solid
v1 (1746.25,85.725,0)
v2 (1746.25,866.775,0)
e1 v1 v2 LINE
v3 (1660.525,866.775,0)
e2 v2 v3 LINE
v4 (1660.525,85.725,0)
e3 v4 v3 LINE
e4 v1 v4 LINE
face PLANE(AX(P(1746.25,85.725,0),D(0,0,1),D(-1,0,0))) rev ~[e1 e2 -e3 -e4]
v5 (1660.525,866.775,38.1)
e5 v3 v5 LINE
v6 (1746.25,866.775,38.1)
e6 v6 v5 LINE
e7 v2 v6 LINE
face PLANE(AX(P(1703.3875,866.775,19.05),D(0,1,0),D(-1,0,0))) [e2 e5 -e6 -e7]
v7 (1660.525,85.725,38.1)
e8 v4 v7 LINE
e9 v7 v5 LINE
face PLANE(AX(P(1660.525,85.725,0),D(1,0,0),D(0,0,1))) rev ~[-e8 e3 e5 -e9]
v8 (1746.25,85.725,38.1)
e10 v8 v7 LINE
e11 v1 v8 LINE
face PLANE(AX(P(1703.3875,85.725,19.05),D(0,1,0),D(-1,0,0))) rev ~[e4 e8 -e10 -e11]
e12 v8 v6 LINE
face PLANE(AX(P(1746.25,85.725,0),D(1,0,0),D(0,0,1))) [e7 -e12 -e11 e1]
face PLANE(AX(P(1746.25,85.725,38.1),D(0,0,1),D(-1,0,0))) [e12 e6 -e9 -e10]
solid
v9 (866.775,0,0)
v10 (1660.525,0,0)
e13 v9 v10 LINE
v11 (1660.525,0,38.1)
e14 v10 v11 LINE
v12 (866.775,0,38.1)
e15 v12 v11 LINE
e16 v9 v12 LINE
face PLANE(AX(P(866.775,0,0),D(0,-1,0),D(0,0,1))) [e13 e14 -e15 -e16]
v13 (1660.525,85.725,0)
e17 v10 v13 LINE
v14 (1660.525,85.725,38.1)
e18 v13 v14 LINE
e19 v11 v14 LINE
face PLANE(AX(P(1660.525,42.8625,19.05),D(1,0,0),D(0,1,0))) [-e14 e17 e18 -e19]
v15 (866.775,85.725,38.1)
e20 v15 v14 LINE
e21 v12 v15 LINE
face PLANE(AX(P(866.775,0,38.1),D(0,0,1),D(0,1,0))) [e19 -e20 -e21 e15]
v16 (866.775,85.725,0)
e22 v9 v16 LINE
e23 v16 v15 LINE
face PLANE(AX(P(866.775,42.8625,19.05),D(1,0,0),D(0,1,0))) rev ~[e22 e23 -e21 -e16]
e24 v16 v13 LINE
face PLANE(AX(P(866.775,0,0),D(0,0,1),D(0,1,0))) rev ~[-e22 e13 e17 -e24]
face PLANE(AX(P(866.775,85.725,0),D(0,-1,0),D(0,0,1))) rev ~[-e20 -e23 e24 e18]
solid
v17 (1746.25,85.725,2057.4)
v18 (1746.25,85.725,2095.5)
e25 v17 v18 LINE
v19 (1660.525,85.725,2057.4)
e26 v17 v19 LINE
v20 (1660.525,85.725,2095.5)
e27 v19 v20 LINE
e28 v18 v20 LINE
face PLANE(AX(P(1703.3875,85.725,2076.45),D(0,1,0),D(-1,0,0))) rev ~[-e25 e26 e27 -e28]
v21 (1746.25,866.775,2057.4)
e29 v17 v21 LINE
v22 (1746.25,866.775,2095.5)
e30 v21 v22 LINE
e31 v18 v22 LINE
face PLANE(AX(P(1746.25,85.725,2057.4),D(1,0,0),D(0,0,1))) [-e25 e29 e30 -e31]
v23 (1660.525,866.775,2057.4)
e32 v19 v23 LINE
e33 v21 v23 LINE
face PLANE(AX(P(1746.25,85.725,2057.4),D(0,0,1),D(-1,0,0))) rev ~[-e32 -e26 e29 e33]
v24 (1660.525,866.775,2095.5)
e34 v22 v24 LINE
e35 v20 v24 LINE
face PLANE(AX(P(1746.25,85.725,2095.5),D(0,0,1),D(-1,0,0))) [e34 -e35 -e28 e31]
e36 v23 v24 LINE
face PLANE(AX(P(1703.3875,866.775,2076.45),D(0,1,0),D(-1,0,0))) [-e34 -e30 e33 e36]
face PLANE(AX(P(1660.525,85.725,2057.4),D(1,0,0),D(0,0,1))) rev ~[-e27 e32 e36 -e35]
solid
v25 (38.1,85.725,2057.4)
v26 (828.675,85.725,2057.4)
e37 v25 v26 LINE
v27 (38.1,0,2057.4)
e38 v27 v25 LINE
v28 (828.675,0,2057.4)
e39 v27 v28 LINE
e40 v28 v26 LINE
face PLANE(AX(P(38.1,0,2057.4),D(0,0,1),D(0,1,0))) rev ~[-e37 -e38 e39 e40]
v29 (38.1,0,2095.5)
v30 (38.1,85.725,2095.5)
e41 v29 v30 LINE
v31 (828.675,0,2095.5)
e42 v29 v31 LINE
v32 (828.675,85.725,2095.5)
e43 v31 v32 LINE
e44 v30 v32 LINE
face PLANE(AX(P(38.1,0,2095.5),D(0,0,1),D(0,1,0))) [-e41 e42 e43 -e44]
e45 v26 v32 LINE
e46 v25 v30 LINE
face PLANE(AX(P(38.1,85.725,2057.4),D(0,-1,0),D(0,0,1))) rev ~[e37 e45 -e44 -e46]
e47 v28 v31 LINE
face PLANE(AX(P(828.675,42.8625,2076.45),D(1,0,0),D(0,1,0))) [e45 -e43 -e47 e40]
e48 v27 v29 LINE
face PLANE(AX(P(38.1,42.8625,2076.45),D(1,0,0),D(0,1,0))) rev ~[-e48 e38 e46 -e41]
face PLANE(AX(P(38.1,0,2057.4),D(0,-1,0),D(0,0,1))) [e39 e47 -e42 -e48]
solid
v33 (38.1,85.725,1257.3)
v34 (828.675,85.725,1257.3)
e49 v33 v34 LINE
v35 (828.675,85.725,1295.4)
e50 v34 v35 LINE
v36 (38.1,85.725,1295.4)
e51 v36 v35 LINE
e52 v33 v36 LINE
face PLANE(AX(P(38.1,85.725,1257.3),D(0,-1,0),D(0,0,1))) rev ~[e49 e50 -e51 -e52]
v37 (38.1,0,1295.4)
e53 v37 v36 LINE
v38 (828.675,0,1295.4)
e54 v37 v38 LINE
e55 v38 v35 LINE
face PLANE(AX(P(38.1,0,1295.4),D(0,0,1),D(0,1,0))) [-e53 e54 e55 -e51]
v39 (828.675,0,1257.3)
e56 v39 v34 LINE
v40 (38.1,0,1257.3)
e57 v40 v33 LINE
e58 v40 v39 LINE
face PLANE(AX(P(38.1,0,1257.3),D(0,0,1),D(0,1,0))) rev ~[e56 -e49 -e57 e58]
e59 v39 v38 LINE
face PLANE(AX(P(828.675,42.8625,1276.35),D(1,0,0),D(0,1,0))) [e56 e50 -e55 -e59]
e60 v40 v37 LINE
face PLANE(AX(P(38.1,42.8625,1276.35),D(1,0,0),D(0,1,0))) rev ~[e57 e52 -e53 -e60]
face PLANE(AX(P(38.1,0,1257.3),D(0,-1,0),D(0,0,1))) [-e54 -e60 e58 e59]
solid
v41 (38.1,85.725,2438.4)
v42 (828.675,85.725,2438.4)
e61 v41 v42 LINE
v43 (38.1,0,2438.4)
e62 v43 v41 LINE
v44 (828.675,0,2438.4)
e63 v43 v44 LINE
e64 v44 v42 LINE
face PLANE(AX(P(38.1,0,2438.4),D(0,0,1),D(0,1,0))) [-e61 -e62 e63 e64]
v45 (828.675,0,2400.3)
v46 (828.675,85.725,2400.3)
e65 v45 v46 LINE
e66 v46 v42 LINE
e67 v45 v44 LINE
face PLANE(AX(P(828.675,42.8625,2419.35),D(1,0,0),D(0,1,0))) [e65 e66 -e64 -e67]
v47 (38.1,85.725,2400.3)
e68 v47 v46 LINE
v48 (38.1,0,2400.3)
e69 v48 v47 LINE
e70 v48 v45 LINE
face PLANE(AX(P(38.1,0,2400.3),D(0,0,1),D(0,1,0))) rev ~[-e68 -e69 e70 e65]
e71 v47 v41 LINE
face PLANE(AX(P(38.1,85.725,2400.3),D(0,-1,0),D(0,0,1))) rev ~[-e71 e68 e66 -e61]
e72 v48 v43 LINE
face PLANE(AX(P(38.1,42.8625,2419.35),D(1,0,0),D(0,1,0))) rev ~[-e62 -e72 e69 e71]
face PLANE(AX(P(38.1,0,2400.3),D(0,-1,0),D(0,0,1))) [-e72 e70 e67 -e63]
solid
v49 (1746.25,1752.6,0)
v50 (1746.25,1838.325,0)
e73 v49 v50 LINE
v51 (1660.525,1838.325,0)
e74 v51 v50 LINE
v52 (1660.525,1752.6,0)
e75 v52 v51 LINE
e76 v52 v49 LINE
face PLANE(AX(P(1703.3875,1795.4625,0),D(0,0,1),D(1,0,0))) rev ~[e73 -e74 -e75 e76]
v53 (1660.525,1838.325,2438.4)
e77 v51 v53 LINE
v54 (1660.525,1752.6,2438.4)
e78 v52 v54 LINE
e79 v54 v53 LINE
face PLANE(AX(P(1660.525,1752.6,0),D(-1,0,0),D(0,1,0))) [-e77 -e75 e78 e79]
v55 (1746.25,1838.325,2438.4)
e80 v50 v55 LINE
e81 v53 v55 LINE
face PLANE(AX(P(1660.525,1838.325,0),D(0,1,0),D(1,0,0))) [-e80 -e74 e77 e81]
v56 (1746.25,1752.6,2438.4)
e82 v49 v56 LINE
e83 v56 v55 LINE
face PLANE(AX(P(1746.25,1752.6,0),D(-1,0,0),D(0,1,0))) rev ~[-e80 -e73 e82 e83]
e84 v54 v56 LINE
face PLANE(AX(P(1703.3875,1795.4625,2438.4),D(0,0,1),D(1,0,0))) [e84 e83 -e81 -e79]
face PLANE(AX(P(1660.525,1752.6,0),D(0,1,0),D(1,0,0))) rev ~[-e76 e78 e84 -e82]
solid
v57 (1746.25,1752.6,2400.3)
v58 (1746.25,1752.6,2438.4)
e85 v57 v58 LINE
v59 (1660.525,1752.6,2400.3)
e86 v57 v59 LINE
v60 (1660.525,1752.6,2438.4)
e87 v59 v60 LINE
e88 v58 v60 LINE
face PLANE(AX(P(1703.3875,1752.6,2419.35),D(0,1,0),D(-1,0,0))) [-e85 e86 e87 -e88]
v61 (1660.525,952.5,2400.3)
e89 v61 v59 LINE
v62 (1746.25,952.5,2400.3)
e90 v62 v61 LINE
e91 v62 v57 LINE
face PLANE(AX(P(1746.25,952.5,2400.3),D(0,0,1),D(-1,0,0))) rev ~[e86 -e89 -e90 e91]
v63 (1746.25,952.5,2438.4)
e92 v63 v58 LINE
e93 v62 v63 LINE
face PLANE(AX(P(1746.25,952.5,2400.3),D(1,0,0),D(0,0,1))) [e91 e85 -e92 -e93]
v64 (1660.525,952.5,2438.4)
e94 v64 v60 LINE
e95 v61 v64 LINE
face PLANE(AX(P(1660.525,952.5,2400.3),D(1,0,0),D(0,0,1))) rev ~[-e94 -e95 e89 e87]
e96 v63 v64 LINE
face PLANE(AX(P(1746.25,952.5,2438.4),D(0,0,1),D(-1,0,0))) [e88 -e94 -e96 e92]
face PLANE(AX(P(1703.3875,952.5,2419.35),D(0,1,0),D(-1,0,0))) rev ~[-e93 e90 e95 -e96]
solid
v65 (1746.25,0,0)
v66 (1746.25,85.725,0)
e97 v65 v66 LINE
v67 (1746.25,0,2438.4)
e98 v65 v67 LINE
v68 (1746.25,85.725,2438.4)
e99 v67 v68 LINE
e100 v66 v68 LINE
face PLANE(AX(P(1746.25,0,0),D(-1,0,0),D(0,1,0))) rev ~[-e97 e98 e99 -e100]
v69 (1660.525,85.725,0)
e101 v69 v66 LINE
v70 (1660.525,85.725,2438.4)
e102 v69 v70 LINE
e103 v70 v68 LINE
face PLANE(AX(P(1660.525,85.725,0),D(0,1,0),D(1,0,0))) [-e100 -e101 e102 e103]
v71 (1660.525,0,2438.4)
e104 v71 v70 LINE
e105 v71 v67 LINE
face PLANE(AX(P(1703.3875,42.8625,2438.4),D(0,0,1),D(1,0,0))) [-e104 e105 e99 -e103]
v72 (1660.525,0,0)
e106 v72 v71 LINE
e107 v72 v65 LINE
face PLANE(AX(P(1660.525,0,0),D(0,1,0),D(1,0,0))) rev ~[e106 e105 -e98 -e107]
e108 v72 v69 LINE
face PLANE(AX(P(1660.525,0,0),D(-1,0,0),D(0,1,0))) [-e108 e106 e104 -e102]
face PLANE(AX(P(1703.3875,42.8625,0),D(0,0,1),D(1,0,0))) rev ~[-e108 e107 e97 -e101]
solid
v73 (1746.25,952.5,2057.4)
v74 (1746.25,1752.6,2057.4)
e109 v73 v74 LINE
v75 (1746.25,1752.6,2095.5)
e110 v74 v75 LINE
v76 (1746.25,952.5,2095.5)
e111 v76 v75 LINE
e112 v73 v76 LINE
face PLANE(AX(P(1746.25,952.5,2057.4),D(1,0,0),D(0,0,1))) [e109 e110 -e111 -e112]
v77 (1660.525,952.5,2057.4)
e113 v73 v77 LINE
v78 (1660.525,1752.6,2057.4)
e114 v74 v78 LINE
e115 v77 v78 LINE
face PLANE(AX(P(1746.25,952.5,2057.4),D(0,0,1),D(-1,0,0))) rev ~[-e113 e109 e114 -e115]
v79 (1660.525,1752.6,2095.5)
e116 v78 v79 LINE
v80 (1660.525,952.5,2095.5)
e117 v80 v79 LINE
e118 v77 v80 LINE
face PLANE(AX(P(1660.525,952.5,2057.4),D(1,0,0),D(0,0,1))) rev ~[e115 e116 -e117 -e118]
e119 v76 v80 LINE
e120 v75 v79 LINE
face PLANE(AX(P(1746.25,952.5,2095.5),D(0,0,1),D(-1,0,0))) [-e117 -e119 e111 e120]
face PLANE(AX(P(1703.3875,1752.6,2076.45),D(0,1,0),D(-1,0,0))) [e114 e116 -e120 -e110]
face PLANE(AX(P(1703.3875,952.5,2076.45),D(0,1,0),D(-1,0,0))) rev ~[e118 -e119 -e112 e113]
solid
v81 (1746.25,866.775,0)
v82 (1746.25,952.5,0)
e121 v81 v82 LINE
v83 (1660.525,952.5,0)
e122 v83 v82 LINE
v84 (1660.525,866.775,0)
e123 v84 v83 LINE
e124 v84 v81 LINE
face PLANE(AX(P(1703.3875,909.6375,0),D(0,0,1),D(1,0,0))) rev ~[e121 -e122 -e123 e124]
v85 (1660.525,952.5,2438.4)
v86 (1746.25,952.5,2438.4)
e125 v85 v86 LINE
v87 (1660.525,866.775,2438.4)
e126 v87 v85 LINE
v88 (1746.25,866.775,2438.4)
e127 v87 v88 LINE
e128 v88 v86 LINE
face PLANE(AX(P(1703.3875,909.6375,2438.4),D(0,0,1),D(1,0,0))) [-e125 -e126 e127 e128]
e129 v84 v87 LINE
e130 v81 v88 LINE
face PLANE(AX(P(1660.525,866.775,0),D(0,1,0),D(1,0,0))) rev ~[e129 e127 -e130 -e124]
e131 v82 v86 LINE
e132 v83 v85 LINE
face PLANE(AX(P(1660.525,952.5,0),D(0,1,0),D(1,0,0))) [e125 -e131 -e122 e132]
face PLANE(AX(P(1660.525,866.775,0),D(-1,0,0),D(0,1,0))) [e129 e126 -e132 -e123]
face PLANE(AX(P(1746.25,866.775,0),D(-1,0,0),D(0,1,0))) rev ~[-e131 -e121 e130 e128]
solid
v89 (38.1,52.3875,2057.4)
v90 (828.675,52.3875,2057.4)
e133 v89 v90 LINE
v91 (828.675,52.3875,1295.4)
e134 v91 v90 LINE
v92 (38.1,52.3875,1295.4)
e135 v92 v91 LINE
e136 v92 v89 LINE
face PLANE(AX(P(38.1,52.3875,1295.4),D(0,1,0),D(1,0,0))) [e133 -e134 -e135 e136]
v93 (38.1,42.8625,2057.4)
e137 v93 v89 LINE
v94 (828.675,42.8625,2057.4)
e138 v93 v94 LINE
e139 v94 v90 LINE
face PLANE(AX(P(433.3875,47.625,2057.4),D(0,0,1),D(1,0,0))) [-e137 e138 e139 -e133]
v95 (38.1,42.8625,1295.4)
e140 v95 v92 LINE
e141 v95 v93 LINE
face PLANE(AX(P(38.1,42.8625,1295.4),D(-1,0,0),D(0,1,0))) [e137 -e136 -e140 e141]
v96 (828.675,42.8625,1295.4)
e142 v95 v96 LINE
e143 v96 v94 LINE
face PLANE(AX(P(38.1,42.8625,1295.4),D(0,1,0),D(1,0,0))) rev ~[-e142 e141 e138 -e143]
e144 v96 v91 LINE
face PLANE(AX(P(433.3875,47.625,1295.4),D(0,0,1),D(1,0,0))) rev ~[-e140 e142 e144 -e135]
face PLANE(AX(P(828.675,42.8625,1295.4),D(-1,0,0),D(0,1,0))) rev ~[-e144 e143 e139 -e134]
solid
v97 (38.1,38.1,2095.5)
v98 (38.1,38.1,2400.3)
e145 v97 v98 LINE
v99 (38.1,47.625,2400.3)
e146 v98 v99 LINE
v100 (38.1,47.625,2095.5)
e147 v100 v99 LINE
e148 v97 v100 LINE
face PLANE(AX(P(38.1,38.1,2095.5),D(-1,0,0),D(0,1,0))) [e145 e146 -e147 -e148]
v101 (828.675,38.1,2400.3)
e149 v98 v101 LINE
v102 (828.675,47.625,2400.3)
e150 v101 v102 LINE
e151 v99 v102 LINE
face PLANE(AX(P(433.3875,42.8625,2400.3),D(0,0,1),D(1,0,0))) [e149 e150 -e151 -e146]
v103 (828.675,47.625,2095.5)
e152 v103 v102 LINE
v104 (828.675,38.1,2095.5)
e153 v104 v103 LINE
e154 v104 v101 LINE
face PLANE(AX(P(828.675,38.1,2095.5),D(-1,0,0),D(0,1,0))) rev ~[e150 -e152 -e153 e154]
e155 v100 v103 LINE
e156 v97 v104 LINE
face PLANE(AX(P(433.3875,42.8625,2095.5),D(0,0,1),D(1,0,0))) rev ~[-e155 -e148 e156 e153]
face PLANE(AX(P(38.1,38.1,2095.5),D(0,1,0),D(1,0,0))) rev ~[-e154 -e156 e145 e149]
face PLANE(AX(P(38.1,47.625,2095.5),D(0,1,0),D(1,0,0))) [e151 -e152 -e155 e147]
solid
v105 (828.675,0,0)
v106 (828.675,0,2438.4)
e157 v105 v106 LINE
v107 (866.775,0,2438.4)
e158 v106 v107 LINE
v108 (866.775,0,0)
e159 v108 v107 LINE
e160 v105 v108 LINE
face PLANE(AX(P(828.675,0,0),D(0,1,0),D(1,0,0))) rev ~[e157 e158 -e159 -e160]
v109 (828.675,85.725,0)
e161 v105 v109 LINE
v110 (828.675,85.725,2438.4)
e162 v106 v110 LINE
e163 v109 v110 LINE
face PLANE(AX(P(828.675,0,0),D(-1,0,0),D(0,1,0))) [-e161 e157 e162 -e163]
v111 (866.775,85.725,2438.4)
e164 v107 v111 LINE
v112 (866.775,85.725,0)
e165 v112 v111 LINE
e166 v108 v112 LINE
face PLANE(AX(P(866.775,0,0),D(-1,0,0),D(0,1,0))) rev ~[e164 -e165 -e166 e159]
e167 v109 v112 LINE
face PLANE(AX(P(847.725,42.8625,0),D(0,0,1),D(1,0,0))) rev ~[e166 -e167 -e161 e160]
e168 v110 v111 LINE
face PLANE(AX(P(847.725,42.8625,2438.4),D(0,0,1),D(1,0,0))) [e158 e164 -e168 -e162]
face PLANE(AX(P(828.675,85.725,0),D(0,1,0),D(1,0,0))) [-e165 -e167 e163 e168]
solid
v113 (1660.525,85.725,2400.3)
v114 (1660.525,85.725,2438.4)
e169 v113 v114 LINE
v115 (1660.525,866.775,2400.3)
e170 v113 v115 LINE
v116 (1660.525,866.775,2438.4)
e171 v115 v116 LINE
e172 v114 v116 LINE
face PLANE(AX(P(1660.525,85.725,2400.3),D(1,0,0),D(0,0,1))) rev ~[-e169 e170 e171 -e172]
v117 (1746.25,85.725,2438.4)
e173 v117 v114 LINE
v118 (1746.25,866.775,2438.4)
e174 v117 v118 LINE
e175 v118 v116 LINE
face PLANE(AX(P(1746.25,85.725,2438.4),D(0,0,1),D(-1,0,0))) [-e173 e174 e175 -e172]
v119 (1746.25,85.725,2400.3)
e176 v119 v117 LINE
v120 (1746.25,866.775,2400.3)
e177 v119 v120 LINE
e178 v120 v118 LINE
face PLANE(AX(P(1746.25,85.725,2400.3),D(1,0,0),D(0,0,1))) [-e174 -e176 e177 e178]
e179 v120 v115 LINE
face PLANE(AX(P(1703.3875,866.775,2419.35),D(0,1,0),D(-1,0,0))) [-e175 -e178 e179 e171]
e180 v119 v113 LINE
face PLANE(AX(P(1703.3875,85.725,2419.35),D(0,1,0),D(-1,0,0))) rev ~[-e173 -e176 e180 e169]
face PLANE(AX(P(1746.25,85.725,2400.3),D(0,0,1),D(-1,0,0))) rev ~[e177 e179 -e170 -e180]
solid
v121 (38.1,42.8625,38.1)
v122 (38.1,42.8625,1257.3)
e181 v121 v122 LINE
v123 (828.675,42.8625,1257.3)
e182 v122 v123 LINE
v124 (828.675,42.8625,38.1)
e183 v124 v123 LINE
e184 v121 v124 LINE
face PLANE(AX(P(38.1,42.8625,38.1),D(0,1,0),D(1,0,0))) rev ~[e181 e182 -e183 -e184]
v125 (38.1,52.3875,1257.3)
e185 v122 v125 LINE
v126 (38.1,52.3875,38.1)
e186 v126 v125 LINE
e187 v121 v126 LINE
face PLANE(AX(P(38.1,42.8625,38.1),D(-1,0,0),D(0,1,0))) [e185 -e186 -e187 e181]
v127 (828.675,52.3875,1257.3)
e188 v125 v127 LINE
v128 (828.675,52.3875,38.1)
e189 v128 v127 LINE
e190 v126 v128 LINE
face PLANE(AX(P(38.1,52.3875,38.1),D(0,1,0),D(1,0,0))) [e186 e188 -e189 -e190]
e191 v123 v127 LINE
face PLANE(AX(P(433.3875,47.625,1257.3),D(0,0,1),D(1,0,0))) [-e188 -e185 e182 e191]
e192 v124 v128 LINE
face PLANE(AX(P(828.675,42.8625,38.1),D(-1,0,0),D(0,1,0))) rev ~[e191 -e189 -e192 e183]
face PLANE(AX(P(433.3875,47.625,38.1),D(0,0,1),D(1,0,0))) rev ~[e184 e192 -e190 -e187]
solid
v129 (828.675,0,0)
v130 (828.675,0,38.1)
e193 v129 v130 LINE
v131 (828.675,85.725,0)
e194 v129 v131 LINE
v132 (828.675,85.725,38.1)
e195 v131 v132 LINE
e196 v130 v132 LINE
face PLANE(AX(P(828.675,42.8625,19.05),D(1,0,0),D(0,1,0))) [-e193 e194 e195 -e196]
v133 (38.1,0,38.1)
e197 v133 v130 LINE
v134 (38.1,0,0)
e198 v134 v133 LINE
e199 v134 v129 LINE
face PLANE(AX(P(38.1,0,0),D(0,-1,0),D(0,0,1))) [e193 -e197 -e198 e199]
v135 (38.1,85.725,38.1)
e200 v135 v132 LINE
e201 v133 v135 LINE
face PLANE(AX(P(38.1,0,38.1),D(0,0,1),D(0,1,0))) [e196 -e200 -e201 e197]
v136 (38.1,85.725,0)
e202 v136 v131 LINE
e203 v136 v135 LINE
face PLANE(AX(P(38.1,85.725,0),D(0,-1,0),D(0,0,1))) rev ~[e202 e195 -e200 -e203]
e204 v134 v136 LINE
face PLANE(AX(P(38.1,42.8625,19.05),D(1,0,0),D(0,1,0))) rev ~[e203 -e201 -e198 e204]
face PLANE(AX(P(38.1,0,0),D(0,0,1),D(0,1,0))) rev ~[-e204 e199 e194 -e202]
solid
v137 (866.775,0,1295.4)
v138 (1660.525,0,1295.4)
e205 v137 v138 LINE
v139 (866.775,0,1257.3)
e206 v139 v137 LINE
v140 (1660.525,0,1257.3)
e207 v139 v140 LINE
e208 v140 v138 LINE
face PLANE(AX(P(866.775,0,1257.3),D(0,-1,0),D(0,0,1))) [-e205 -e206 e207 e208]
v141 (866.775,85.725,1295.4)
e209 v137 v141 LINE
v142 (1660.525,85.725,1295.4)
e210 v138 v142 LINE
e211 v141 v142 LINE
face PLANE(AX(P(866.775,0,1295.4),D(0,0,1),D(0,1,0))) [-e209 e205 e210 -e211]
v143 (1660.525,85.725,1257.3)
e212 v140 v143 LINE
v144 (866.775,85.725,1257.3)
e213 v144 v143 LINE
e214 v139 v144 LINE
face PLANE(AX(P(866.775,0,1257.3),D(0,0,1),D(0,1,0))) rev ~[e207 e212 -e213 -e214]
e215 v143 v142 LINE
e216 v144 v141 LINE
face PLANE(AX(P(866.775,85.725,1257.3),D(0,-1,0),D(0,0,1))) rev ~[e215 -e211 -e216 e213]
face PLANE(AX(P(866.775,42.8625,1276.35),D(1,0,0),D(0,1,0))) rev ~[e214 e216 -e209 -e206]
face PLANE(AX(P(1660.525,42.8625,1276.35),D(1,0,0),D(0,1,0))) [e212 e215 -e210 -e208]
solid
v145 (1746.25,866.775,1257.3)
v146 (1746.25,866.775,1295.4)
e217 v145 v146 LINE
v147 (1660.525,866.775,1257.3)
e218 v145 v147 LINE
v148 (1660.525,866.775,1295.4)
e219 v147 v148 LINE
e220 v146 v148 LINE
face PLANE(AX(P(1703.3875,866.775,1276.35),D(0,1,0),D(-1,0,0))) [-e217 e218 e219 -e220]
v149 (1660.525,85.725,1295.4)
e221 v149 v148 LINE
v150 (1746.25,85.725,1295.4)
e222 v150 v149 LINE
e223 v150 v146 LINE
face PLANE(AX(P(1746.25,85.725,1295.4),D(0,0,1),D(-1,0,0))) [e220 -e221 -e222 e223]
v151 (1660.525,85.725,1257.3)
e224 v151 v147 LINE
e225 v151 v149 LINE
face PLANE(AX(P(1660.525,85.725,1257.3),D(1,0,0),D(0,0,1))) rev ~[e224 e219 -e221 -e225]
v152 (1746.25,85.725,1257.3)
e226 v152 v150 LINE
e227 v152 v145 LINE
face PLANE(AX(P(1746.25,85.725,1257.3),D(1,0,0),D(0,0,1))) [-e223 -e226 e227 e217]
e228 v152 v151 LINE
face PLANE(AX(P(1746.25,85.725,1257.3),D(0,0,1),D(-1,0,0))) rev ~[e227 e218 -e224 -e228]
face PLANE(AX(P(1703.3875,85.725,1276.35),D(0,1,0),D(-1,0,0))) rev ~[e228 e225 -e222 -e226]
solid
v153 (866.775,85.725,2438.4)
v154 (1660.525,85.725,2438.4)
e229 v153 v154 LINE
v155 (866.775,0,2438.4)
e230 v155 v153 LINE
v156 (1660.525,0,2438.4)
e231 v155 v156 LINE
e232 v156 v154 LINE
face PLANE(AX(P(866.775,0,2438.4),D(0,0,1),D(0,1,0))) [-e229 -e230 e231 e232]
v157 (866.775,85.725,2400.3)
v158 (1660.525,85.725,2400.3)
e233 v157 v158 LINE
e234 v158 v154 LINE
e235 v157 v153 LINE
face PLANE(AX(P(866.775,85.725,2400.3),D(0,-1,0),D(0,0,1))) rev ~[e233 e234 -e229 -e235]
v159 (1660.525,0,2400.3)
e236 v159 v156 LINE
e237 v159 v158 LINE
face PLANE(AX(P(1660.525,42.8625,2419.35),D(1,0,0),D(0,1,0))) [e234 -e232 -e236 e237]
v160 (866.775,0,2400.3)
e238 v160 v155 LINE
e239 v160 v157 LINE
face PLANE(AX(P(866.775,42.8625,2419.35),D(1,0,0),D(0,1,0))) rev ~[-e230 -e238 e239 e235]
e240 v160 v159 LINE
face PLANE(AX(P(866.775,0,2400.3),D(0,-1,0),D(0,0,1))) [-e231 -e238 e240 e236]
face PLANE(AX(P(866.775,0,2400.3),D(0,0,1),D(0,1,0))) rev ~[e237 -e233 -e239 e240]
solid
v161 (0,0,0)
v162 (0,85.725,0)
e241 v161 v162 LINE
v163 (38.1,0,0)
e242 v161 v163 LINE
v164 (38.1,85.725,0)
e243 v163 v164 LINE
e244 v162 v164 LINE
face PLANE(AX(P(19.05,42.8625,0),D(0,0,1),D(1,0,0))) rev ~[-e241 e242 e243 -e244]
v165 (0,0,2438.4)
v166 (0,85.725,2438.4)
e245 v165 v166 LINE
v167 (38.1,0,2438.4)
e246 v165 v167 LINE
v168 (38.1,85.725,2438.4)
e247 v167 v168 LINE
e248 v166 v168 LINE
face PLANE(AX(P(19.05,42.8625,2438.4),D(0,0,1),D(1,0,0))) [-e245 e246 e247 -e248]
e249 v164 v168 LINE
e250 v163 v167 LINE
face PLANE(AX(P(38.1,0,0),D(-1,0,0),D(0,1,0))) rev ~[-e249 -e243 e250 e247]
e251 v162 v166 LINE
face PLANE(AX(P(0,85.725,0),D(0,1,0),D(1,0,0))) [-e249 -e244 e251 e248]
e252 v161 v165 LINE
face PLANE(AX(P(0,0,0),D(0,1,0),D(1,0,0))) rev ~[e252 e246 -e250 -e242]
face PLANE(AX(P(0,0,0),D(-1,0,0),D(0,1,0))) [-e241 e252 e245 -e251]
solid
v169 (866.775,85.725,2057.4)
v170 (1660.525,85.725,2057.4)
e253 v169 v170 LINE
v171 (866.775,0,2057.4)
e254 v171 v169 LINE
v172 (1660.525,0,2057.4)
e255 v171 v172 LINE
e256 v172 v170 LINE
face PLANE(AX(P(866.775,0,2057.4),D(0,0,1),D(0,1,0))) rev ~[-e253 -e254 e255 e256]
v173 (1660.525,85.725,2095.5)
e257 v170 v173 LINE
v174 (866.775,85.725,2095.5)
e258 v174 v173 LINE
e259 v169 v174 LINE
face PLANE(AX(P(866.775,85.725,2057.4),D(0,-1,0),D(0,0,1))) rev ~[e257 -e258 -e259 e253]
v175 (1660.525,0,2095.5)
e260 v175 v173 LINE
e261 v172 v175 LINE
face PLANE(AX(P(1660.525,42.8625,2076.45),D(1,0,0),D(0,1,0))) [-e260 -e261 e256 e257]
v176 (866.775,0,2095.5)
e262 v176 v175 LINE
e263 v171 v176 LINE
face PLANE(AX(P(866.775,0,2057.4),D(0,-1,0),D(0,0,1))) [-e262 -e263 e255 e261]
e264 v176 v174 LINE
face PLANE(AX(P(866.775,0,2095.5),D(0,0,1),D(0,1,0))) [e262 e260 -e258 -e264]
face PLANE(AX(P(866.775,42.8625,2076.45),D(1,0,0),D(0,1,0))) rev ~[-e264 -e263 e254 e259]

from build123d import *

# Parameters (mm, degrees)
F0_W      = 38.1
F0_H      = 85.725
F1_DEPTH  = 2438.4
F0_W_2    = 85.725
F3_W      = 85.725
F3_H      = 38.1
F4_DEPTH  = 790.575
F2_W      = 85.725
F2_H      = 38.1
F5_DEPTH  = 793.75
F6_W      = 85.725
F6_H      = 38.1
F7_DEPTH  = 781.05
F8_W      = 85.725
F8_H      = 38.1
F9_DEPTH  = 781.05
F10_W     = 85.725
F10_H     = 38.1
F11_DEPTH = 793.75
F12_W     = 85.725
F12_H     = 38.1
F13_DEPTH = 790.575
F14_W     = 85.725
F14_H     = 38.1
F15_DEPTH = 800.1
F16_W     = 85.725
F16_H     = 38.1
F17_DEPTH = 790.575
F18_W     = 85.725
F18_H     = 38.1
F19_DEPTH = 793.75
F20_W     = 85.725
F20_H     = 38.1
F21_DEPTH = 781.05
F22_W     = 85.725
F22_H     = 38.1
F23_DEPTH = 800.1
F24_W     = 85.725
F24_H     = 38.1
F25_DEPTH = 781.05
F26_W     = 85.725
F26_H     = 38.1
F27_DEPTH = 793.75
F28_W     = 85.725
F28_H     = 38.1
F29_DEPTH = 790.575
F30_W     = 790.575
F30_H     = 9.525
F31_DEPTH = 1219.2
F32_W     = 790.575
F32_H     = 9.525
F33_DEPTH = 762
F34_W     = 790.575
F34_H     = 9.525
F35_DEPTH = 304.8


with BuildPart() as f1:
    # F0 (on Top) → F1 (new body)
    with BuildSketch(Plane.XY):
        with Locations((19.05, 42.8625)):
            Rectangle(F0_W, F0_H)
    extrude(amount=F1_DEPTH)


with BuildPart() as f1b:
    # F0 (on Top) → F1, piece 2 (new body)
    with BuildSketch(Plane.XY):
        with Locations((847.725, 42.8625)):
            Rectangle(F0_W, F0_H)
    extrude(amount=F1_DEPTH)


with BuildPart() as f1c:
    # F0 (on Top) → F1, piece 3 (new body)
    with BuildSketch(Plane.XY):
        with Locations((1703.3875, 42.8625)):
            Rectangle(F0_W_2, F0_H)
    extrude(amount=F1_DEPTH)


with BuildPart() as f1d:
    # F0 (on Top) → F1, piece 4 (new body)
    with BuildSketch(Plane.XY):
        with Locations((1703.3875, 909.6375)):
            Rectangle(F0_W_2, F0_H)
    extrude(amount=F1_DEPTH)


with BuildPart() as f1e:
    # F0 (on Top) → F1, piece 5 (new body)
    with BuildSketch(Plane.XY):
        with Locations((1703.3875, 1795.4625)):
            Rectangle(F0_W_2, F0_H)
    extrude(amount=F1_DEPTH)


with BuildPart() as f4:
    # F3 (on face) → F4 (new body, through all)
    with BuildSketch(Plane.YZ.offset(38.1)):
        with Locations((42.8625, 19.05)):
            Rectangle(F3_W, F3_H)
    extrude(amount=F4_DEPTH)


with BuildPart() as f5:
    # F2 (on face) → F5 (new body)
    with BuildSketch(Plane.YZ.offset(866.775)):
        with Locations((42.8625, 19.05)):
            Rectangle(F2_W, F2_H)
    extrude(amount=F5_DEPTH)


with BuildPart() as f7:
    # F6 (on face) → F7 (new body, through all)
    with BuildSketch(Plane(origin=(0, 85.725, 0), x_dir=(-1, 0, 0), z_dir=(0, 1, 0))):
        with Locations((-1703.3875, 19.05)):
            Rectangle(F6_W, F6_H)
    extrude(amount=F7_DEPTH)


with BuildPart() as f9:
    # F8 (on face) → F9 (new body, through all)
    with BuildSketch(Plane(origin=(0, 85.725, 0), x_dir=(-1, 0, 0), z_dir=(0, 1, 0))):
        with Locations((-1703.3875, 2419.35)):
            Rectangle(F8_W, F8_H)
    extrude(amount=F9_DEPTH)


with BuildPart() as f11:
    # F10 (on face) → F11 (new body, through all)
    with BuildSketch(Plane.YZ.offset(866.775)):
        with Locations((42.8625, 2419.35)):
            Rectangle(F10_W, F10_H)
    extrude(amount=F11_DEPTH)


with BuildPart() as f13:
    # F12 (on face) → F13 (new body, through all)
    with BuildSketch(Plane.YZ.offset(38.1)):
        with Locations((42.8625, 2419.35)):
            Rectangle(F12_W, F12_H)
    extrude(amount=F13_DEPTH)


with BuildPart() as f15:
    # F14 (on face) → F15 (new body, through all)
    with BuildSketch(Plane(origin=(0, 952.5, 0), x_dir=(-1, 0, 0), z_dir=(0, 1, 0))):
        with Locations((-1703.3875, 2419.35)):
            Rectangle(F14_W, F14_H)
    extrude(amount=F15_DEPTH)


with BuildPart() as f17:
    # F16 (on face) → F17 (new body, through all)
    with BuildSketch(Plane.YZ.offset(38.1)):
        with Locations((42.8625, 2076.45)):
            Rectangle(F16_W, F16_H)
    extrude(amount=F17_DEPTH)


with BuildPart() as f19:
    # F18 (on face) → F19 (new body, through all)
    with BuildSketch(Plane.YZ.offset(866.775)):
        with Locations((42.8625, 2076.45)):
            Rectangle(F18_W, F18_H)
    extrude(amount=F19_DEPTH)


with BuildPart() as f21:
    # F20 (on face) → F21 (new body, through all)
    with BuildSketch(Plane(origin=(0, 85.725, 0), x_dir=(-1, 0, 0), z_dir=(0, 1, 0))):
        with Locations((-1703.3875, 2076.45)):
            Rectangle(F20_W, F20_H)
    extrude(amount=F21_DEPTH)


with BuildPart() as f23:
    # F22 (on face) → F23 (new body, through all)
    with BuildSketch(Plane(origin=(0, 952.5, 0), x_dir=(-1, 0, 0), z_dir=(0, 1, 0))):
        with Locations((-1703.3875, 2076.45)):
            Rectangle(F22_W, F22_H)
    extrude(amount=F23_DEPTH)


with BuildPart() as f25:
    # F24 (on face) → F25 (new body, through all)
    with BuildSketch(Plane(origin=(0, 85.725, 0), x_dir=(-1, 0, 0), z_dir=(0, 1, 0))):
        with Locations((-1703.3875, 1276.35)):
            Rectangle(F24_W, F24_H)
    extrude(amount=F25_DEPTH)


with BuildPart() as f27:
    # F26 (on face) → F27 (new body, through all)
    with BuildSketch(Plane.YZ.offset(866.775)):
        with Locations((42.8625, 1276.35)):
            Rectangle(F26_W, F26_H)
    extrude(amount=F27_DEPTH)


with BuildPart() as f29:
    # F28 (on face) → F29 (new body, through all)
    with BuildSketch(Plane.YZ.offset(38.1)):
        with Locations((42.8625, 1276.35)):
            Rectangle(F28_W, F28_H)
    extrude(amount=F29_DEPTH)


with BuildPart() as f31:
    # F30 (on face) → F31 (new body, through all)
    with BuildSketch(Plane.XY.offset(38.1)):
        with Locations((433.3875, 47.625)):
            Rectangle(F30_W, F30_H)
    extrude(amount=F31_DEPTH)


with BuildPart() as f33:
    # F32 (on face) → F33 (new body, through all)
    with BuildSketch(Plane.XY.offset(1295.4)):
        with Locations((433.3875, 47.625)):
            Rectangle(F32_W, F32_H)
    extrude(amount=F33_DEPTH)


with BuildPart() as f35:
    # F34 (on face) → F35 (new body, through all)
    with BuildSketch(Plane.XY.offset(2095.5)):
        with Locations((433.3875, 42.8625)):
            Rectangle(F34_W, F34_H)
    extrude(amount=F35_DEPTH)


solid = Compound([f1.part, f1b.part, f1c.part, f1d.part, f1e.part, f4.part, f5.part, f7.part, f9.part, f11.part, f13.part, f15.part, f17.part, f19.part, f21.part, f23.part, f25.part, f27.part, f29.part, f31.part, f33.part, f35.part])
